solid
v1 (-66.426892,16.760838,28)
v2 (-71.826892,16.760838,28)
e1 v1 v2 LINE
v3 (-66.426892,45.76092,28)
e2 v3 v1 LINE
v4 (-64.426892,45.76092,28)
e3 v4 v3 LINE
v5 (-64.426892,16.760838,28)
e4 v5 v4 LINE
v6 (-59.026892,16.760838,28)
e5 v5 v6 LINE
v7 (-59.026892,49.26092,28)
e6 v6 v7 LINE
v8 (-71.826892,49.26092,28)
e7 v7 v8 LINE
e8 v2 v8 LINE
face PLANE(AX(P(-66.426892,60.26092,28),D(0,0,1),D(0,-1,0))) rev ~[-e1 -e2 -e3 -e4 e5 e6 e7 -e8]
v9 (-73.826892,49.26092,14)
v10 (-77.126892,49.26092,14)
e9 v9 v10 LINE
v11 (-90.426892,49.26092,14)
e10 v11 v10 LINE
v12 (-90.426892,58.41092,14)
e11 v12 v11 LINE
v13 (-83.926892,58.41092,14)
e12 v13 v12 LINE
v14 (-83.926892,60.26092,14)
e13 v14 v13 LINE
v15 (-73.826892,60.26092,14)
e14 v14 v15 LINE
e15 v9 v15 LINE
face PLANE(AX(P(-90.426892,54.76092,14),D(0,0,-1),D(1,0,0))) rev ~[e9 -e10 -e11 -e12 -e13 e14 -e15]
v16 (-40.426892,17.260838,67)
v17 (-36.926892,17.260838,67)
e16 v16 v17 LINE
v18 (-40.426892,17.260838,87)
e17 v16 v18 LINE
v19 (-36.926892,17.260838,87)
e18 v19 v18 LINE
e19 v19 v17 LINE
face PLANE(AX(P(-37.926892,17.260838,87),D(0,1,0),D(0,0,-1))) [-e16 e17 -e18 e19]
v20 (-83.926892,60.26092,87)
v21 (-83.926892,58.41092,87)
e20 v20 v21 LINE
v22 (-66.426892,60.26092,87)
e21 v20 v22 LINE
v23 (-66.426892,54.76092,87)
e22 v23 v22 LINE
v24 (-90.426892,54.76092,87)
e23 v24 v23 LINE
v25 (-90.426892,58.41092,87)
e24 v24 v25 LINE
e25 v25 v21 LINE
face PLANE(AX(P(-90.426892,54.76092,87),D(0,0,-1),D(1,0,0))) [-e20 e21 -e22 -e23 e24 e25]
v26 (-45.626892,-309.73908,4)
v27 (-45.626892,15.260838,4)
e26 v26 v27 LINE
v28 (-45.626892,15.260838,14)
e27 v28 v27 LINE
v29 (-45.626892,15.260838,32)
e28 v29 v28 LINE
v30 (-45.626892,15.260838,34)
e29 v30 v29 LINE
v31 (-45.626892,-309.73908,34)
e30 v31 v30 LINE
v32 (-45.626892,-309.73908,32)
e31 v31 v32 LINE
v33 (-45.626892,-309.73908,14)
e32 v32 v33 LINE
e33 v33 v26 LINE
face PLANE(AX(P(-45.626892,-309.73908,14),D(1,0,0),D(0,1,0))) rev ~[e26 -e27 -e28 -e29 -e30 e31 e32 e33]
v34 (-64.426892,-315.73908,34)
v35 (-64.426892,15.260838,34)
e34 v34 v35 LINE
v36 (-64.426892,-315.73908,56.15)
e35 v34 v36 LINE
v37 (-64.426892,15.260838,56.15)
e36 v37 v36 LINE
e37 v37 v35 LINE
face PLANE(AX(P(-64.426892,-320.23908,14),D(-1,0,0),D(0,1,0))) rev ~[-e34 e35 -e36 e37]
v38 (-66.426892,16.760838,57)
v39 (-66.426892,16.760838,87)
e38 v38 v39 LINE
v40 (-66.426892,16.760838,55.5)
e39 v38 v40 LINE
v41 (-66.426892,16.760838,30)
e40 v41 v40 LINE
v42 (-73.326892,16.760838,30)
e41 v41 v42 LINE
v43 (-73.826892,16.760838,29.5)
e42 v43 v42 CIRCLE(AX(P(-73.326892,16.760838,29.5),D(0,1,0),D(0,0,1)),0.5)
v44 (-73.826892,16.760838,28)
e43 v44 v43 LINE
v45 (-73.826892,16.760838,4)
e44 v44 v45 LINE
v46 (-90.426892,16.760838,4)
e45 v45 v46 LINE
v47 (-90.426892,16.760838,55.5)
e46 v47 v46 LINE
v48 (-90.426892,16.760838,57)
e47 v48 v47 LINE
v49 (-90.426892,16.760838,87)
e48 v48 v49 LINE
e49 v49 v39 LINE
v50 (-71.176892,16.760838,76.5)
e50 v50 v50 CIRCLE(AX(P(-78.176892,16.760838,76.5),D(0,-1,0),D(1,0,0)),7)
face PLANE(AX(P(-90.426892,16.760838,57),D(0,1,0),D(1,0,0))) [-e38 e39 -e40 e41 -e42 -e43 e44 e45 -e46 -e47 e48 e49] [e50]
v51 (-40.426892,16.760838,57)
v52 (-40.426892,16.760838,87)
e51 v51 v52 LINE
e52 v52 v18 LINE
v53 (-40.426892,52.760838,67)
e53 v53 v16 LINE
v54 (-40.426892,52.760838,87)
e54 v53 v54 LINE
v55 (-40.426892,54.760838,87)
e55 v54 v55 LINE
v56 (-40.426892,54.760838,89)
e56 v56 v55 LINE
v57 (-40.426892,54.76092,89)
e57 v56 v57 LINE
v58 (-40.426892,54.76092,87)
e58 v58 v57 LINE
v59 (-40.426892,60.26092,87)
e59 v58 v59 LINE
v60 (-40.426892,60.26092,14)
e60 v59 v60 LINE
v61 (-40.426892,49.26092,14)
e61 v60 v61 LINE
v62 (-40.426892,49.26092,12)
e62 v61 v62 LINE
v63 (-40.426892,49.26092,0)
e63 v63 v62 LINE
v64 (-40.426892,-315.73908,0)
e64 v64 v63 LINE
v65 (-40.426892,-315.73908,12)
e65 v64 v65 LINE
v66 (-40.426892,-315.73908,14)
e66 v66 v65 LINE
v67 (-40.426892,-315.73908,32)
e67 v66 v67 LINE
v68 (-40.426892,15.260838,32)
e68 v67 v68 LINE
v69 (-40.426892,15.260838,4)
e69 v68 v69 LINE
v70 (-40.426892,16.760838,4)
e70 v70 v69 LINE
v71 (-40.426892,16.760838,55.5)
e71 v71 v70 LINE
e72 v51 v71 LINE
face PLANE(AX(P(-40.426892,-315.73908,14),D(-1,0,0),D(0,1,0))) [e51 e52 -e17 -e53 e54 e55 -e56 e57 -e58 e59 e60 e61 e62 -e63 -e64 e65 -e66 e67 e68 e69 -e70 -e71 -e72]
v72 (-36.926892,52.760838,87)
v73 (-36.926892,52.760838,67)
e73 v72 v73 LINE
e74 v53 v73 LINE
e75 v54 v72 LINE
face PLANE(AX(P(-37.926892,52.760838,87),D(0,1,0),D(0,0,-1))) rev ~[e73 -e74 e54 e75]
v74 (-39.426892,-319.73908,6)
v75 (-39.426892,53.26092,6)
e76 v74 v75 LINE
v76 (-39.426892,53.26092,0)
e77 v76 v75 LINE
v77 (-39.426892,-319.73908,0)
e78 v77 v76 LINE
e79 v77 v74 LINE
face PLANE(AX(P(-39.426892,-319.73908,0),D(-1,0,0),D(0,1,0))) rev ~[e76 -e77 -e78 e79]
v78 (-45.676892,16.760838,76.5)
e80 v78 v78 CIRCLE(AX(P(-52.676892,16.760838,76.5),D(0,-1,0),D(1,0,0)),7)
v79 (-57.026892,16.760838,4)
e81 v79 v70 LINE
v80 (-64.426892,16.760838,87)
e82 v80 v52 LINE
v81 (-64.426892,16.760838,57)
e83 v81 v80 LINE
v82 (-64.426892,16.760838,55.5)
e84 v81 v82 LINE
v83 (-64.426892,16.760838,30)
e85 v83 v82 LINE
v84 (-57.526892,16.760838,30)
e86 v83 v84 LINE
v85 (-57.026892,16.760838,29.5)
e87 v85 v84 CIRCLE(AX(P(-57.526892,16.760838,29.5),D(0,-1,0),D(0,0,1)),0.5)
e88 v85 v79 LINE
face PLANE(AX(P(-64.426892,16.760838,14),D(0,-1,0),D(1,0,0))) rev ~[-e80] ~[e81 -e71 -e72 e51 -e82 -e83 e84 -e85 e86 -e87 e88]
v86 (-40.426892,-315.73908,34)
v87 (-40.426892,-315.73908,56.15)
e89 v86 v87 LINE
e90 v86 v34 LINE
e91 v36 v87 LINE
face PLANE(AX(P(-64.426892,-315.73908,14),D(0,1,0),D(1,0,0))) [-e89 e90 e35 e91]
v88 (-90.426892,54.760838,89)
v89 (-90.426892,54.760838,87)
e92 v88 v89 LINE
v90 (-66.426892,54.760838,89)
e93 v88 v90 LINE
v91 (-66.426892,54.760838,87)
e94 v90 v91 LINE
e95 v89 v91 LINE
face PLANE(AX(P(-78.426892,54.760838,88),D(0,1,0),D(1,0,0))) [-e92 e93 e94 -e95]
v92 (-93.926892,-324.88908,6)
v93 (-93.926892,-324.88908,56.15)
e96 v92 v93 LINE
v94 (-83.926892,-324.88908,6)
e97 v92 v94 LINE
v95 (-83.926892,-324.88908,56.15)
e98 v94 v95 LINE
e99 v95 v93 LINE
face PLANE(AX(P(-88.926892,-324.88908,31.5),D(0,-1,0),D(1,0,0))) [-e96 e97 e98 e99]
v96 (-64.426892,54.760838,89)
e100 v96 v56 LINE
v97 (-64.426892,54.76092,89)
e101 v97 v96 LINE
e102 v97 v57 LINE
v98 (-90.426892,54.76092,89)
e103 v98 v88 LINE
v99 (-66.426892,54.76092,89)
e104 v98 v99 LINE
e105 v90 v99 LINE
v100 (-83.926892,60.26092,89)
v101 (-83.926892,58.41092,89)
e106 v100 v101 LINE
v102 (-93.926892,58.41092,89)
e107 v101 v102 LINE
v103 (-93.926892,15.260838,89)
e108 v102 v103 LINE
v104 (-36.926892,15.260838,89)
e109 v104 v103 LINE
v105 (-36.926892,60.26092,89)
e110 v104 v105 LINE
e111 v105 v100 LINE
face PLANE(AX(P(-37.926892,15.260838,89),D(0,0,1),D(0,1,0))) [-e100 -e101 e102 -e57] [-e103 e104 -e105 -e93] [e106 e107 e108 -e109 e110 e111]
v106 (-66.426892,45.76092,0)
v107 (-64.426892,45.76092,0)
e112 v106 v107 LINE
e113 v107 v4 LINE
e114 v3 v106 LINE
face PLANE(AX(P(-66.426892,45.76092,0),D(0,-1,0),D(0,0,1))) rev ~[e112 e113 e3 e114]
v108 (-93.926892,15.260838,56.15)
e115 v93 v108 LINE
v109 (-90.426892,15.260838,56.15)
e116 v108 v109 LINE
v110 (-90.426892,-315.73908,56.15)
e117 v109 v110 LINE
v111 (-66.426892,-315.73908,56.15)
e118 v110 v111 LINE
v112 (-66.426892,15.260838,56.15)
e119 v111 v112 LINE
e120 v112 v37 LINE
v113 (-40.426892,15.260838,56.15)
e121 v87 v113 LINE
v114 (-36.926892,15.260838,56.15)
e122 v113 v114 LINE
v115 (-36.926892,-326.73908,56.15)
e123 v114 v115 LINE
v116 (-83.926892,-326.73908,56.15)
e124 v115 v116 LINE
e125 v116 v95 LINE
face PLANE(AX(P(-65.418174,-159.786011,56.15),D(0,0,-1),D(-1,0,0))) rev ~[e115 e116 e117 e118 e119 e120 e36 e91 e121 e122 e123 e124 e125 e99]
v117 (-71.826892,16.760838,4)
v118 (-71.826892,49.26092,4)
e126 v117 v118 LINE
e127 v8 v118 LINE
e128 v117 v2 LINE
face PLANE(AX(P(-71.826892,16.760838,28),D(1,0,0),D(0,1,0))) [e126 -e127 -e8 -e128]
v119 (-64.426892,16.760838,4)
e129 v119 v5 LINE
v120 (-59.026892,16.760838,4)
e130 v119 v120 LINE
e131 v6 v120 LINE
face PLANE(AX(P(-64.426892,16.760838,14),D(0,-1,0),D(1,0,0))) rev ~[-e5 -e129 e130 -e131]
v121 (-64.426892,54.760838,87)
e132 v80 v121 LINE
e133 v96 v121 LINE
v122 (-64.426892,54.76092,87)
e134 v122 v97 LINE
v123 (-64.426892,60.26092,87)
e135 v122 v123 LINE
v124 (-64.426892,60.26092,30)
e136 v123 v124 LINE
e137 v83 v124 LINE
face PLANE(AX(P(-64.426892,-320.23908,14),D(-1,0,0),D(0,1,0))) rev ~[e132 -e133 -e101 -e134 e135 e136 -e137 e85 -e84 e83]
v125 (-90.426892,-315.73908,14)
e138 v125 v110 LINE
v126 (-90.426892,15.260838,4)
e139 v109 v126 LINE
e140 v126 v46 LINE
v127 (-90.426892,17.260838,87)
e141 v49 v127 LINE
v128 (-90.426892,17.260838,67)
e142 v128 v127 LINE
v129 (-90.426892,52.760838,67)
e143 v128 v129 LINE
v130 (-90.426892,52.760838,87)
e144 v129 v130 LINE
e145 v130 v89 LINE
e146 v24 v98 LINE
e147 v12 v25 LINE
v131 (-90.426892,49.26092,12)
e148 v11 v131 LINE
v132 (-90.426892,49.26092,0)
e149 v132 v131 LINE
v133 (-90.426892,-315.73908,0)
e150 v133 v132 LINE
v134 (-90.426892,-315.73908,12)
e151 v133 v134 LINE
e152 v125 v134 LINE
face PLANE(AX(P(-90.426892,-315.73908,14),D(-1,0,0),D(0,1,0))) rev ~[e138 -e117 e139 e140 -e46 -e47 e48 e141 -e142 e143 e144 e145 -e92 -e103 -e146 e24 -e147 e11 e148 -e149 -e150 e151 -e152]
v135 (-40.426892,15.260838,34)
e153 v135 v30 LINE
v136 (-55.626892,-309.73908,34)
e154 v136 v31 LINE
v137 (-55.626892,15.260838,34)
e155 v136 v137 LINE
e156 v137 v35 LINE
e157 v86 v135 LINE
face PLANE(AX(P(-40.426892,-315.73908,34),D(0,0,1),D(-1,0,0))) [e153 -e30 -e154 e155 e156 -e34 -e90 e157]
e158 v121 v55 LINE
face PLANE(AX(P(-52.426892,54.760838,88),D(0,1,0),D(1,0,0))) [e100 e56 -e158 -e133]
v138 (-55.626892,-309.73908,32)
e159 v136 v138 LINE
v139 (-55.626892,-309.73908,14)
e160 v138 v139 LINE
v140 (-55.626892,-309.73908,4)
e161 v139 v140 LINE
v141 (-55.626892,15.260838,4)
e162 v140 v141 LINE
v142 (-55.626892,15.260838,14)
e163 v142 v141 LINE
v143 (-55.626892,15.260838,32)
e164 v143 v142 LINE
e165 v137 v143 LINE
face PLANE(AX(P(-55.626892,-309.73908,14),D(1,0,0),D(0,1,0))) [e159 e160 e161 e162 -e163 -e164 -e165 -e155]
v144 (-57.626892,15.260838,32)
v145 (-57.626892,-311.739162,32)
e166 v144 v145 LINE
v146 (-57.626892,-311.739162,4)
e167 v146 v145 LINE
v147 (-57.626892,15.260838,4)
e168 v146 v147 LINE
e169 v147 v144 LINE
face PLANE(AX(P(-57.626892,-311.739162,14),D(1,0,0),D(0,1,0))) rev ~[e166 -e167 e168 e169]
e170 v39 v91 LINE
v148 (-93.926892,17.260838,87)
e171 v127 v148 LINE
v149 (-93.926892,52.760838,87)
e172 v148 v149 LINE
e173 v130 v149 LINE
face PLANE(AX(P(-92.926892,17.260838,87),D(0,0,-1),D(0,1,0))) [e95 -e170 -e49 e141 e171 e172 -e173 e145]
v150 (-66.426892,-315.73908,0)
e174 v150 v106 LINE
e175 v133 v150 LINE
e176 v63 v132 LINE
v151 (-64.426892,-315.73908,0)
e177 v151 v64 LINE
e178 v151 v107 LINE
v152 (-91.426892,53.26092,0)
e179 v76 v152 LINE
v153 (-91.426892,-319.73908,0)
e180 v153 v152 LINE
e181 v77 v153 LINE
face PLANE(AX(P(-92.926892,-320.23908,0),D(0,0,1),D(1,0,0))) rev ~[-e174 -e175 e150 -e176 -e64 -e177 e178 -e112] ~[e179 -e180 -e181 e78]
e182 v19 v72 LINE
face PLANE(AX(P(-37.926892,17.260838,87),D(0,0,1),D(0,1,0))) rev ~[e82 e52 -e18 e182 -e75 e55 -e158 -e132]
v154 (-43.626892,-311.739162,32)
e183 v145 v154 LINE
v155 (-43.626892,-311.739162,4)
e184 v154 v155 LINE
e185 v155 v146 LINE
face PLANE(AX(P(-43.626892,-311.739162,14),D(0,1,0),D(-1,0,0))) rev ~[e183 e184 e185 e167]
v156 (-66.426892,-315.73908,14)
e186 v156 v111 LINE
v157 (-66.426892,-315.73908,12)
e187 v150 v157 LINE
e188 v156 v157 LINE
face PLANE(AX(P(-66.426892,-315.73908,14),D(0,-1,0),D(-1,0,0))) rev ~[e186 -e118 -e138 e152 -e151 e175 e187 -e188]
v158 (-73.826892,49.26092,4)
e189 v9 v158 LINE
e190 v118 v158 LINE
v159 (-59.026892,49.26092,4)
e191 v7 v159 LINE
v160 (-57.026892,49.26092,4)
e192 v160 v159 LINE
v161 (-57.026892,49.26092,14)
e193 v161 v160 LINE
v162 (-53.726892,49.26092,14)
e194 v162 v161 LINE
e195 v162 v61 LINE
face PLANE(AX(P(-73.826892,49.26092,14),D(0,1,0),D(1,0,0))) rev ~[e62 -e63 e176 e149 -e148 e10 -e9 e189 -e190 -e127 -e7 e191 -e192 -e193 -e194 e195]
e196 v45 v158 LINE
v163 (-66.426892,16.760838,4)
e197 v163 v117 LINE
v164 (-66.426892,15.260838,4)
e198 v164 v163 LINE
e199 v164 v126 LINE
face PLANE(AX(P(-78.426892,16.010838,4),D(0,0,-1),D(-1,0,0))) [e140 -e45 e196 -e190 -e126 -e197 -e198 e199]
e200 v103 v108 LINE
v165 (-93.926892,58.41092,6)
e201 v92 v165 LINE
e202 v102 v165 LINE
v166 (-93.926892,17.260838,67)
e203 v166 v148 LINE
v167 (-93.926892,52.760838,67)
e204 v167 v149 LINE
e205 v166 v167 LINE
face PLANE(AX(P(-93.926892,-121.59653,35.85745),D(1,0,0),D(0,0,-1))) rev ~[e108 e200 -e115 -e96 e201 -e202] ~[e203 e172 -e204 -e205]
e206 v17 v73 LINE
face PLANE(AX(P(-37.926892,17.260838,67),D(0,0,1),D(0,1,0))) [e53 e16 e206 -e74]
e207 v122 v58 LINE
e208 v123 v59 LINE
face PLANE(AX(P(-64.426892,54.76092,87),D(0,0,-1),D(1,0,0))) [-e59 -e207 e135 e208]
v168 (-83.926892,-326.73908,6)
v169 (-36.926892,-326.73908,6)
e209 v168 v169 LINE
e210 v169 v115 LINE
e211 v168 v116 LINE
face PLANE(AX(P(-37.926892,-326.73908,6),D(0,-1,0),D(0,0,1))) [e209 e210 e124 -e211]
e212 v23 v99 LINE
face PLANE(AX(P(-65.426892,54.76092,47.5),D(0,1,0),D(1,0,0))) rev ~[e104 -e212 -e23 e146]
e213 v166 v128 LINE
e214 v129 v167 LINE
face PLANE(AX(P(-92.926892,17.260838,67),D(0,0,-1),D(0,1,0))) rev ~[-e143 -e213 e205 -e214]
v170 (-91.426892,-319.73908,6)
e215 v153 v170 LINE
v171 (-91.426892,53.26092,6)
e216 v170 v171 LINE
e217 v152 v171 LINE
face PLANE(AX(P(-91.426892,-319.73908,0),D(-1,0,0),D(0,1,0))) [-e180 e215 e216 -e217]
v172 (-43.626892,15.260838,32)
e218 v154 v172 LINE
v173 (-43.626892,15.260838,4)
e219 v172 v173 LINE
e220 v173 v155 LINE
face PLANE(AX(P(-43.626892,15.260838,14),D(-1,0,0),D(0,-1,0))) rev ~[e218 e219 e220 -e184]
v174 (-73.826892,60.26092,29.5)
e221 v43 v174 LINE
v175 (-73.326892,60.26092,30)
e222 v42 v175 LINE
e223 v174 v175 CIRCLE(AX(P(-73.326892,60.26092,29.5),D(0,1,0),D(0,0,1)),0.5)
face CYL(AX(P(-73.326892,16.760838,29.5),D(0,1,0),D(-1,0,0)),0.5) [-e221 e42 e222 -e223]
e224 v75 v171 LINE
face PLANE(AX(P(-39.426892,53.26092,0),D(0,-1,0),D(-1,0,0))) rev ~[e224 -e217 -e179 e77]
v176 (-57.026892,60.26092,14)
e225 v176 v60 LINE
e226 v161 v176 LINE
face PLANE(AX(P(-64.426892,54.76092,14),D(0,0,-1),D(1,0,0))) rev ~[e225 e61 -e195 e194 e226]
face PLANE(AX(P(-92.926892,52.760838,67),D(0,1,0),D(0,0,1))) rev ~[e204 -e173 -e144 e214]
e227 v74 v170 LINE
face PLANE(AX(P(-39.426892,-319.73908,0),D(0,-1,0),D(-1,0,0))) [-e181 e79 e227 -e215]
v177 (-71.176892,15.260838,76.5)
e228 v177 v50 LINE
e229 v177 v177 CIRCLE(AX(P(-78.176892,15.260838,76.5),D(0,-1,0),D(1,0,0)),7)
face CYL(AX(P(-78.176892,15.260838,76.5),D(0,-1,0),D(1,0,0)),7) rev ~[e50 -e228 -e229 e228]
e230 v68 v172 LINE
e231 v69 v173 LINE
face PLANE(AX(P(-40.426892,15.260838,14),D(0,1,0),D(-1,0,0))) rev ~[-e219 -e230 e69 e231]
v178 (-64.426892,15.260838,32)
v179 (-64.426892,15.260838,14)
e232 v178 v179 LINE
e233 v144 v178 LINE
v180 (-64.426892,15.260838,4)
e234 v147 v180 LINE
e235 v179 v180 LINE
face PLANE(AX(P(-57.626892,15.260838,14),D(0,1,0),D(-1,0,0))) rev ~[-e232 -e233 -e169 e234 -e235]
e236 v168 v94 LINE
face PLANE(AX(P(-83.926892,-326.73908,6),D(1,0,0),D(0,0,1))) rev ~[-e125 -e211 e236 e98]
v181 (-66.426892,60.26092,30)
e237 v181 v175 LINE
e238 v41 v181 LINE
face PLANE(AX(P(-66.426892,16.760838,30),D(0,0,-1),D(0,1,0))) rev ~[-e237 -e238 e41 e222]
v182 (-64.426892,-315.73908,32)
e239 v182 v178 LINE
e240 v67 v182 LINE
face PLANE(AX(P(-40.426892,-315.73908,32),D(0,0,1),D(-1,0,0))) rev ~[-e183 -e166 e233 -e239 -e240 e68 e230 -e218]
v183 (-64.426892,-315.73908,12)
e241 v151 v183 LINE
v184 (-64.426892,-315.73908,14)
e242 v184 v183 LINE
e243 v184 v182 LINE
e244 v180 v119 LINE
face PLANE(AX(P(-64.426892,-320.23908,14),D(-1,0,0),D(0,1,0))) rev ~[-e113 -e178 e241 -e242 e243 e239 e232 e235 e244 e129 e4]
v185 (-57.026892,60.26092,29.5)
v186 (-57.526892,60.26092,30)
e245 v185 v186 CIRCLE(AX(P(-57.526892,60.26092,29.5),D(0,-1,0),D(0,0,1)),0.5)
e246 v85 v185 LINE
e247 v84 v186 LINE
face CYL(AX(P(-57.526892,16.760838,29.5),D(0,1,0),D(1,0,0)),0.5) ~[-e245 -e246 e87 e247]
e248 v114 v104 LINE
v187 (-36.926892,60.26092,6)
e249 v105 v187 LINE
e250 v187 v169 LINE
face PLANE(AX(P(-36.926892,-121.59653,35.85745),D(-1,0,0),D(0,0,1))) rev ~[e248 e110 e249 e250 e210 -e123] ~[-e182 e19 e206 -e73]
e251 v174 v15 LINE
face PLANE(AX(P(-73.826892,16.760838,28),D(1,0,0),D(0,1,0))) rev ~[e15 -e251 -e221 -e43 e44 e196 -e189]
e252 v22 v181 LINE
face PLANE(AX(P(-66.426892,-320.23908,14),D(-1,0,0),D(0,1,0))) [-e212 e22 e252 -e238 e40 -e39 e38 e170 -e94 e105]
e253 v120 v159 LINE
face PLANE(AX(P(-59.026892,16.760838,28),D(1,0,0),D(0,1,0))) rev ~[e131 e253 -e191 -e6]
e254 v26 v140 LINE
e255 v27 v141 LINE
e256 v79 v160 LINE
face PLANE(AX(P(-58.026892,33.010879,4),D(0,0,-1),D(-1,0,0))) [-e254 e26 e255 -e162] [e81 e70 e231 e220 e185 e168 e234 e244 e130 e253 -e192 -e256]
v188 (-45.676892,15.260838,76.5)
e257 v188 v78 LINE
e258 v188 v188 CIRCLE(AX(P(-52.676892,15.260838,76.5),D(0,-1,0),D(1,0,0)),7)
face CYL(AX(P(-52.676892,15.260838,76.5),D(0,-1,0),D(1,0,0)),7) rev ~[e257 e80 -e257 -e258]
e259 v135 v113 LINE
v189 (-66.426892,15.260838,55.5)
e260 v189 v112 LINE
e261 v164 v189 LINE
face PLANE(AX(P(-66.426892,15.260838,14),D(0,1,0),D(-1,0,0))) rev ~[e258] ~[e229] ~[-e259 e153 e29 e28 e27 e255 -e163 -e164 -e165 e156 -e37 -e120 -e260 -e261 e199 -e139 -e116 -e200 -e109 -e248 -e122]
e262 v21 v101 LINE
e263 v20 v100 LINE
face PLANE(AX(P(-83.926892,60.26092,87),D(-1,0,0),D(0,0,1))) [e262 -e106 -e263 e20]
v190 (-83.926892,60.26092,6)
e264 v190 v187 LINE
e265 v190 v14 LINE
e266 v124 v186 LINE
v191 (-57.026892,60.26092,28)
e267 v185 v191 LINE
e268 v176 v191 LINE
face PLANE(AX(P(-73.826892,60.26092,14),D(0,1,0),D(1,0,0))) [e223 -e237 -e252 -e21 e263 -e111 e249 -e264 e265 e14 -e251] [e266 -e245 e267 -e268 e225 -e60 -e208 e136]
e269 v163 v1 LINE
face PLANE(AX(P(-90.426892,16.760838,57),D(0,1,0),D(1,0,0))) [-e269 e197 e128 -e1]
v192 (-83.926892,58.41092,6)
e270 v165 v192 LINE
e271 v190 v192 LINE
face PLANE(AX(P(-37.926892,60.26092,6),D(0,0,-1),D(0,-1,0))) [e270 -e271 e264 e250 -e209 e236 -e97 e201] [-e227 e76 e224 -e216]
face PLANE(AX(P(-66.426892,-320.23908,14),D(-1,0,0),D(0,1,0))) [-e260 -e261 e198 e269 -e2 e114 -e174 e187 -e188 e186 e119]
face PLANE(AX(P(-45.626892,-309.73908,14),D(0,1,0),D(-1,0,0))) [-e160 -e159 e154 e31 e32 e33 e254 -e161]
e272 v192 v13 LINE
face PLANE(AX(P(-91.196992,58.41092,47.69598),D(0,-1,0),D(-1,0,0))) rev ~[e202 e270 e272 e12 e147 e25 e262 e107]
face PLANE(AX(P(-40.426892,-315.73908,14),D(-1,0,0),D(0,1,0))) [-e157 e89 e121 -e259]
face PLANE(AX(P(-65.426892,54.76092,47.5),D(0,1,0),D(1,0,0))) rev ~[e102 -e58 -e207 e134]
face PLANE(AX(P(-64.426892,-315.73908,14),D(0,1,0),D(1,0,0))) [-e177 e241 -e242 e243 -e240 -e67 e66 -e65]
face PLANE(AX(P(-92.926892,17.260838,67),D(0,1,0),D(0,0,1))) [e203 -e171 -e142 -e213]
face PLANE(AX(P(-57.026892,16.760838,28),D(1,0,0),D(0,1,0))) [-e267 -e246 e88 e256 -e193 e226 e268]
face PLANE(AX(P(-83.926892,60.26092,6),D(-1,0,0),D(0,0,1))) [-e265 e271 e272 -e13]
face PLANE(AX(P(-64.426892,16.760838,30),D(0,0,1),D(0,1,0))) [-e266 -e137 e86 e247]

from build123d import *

# Parameters (mm, degrees)
SZKIC1_W                     = 53
SZKIC1_H                     = 374
SZKIC1_W_2                   = 24
SZKIC1_H_2                   = 365
DODANIE_WYCI_GNI_CIE2_DEPTH  = 12
SZKIC2_W                     = 12
SZKIC2_H                     = 3.5
WYTNIJ_WYCI_GNI_CIE1_DEPTH   = 2
SZKIC3_W                     = 53
SZKIC3_H                     = 374
DODANIE_WYCI_GNI_CIE3_DEPTH  = 2
SZKIC4_W                     = 13.3
SZKIC4_H                     = 30.500081729
SZKIC4_W_2                   = 9.4
SZKIC4_H_2                   = 64.96
WYTNIJ_WYCI_GNI_CIE2_DEPTH   = 2
SZKIC5_W                     = 2
SZKIC5_H                     = 374
DODANIE_WYCI_GNI_CIE4_DEPTH  = 43
DODANIE_WYCI_GNI_CIE5_DEPTH  = 41.5
SZKIC7_W                     = 25.5
SZKIC7_H                     = 38.500081729
DODANIE_WYCI_GNI_CIE6_DEPTH  = 1.5
DODANIE_WYCI_GNI_CIE7_DEPTH  = 43
DODANIE_WYCI_GNI_CIE8_DEPTH  = 43
SZKIC15_W                    = 57
SZKIC15_H                    = 374
DODANIE_WYCI_GNI_CIE10_DEPTH = 1
SZKIC16_W                    = 57
SZKIC16_H                    = 374
DODANIE_WYCI_GNI_CIE11_DEPTH = 1
SZKIC17_W                    = 55
SZKIC17_H                    = 57
SZKIC17_W_2                  = 24
SZKIC17_H_2                  = 41.5
DODANIE_WYCI_GNI_CIE12_DEPTH = 1
SZKIC18_W                    = 55
SZKIC18_H                    = 57
DODANIE_WYCI_GNI_CIE13_DEPTH = 1
SZKIC19_W                    = 55
SZKIC19_H                    = 376
SZKIC19_W_2                  = 52
SZKIC19_H_2                  = 373
WYTNIJ_WYCI_GNI_CIE7_DEPTH   = 6
SZKIC23_W                    = 24
SZKIC23_H                    = 38.000081729
WYTNIJ_WYCI_GNI_CIE11_DEPTH  = 10
DODANIE_WYCI_GNI_CIE14_DEPTH = 32
SZKIC25_W                    = 24
SZKIC25_H                    = 2
DODANIE_WYCI_GNI_CIE15_DEPTH = 38
SZKIC26_W                    = 24
SZKIC26_H                    = 2
DODANIE_WYCI_GNI_CIE16_DEPTH = 38
SZKIC27_R                    = 7
WYTNIJ_WYCI_GNI_CIE12_DEPTH  = 10
SZKIC28_W                    = 20
SZKIC28_H                    = 35.5
WYTNIJ_WYCI_GNI_CIE13_DEPTH  = 3
SZKIC29_W                    = 20
SZKIC29_H                    = 35.5
WYTNIJ_WYCI_GNI_CIE14_DEPTH  = 3
SZKIC33_W                    = 55
SZKIC33_H                    = 83
SZKIC33_W_2                  = 24
SZKIC33_H_2                  = 73
DODANIE_WYCI_GNI_CIE17_DEPTH = 5.5
SZKIC34_W                    = 55
SZKIC34_H                    = 51
DODANIE_WYCI_GNI_CIE18_DEPTH = 5.5
SZKIC35_W                    = 20
SZKIC35_H                    = 35.5
DODANIE_WYCI_GNI_CIE19_DEPTH = 1
SZKIC36_W                    = 20
SZKIC36_H                    = 35.5
DODANIE_WYCI_GNI_CIE20_DEPTH = 1
SZKIC37_W                    = 24
SZKIC37_H                    = 330.999918271
WYTNIJ_WYCI_GNI_CIE15_DEPTH  = 2
SZKIC38_W                    = 24
SZKIC38_H                    = 330.999918271
WYTNIJ_WYCI_GNI_CIE16_DEPTH  = 2
WYTNIJ_WYCI_GNI_CIE17_DEPTH  = 2
SZKIC40_W                    = 2
SZKIC40_H                    = 3.5
WYTNIJ_WYCI_GNI_CIE18_DEPTH  = 14
DODANIE_WYCI_GNI_CIE21_DEPTH = 331
SZKIC42_W                    = 10
SZKIC42_H                    = 324.999918271
WYTNIJ_WYCI_GNI_CIE19_DEPTH  = 2
DODANIE_WYCI_GNI_CIE22_DEPTH = 18
SZKIC44_W                    = 10
SZKIC44_H                    = 324.999918271
DODANIE_WYCI_GNI_CIE23_DEPTH = 10
SZKIC45_W                    = 2
SZKIC45_H                    = 43.500081729
DODANIE_WYCI_GNI_CIE24_DEPTH = 7.4
SZKIC46_W                    = 7.4
SZKIC46_H                    = 11
DODANIE_WYCI_GNI_CIE25_DEPTH = 14
SZKIC47_W                    = 2
SZKIC47_H                    = 32.500081729
DODANIE_WYCI_GNI_CIE26_DEPTH = 24
WYTNIJ_WYCI_GNI_CIE20_DEPTH  = 1.85
SZKIC49_W                    = 10
SZKIC49_H                    = 51
WYTNIJ_WYCI_GNI_CIE21_DEPTH  = 1.85
WYTNIJ_WYCI_GNI_CIE22_DEPTH  = 0.85
DODANIE_WYCI_GNI_CIE27_DEPTH = 7.4
SZKIC52_W                    = 7.4
SZKIC52_H                    = 11
DODANIE_WYCI_GNI_CIE28_DEPTH = 14
SZKIC53_W                    = 2
SZKIC53_H                    = 32.500081729
DODANIE_WYCI_GNI_CIE30_DEPTH = 24
SZKIC54_W                    = 24
SZKIC54_H                    = 1.5
DODANIE_WYCI_GNI_CIE31_DEPTH = 10
ZAOKR_GLENIE1_R              = 0.5
ZAOKR_GLENIE2_R              = 0.5


with BuildPart() as part:
    # Szkic1 → Dodanie-wyciągnięcie2 (new body)
    with BuildSketch(Plane.XY):
        with Locations((-65.426891924, -133.239080048)):
            Rectangle(SZKIC1_W, SZKIC1_H)
        with Locations((-78.426891924, -133.239080048)):
            Rectangle(SZKIC1_W_2, SZKIC1_H_2, mode=Mode.SUBTRACT)
        with Locations((-52.426891924, -133.239080048)):
            Rectangle(SZKIC1_W_2, SZKIC1_H_2, mode=Mode.SUBTRACT)
    extrude(amount=DODANIE_WYCI_GNI_CIE2_DEPTH)

    # Szkic2 → Wytnij-wyciągnięcie1 (cut)
    with BuildSketch(Plane.ZY.offset(66.426891924)):
        with Locations((6, 47.510919952)):
            Rectangle(SZKIC2_W, SZKIC2_H)
    extrude(amount=-WYTNIJ_WYCI_GNI_CIE1_DEPTH, mode=Mode.SUBTRACT)

    # Szkic3 → Dodanie-wyciągnięcie3 (add)
    with BuildSketch(Plane.XY.offset(12)):
        with Locations((-65.426891924, -133.239080048)):
            Rectangle(SZKIC3_W, SZKIC3_H)
    extrude(amount=DODANIE_WYCI_GNI_CIE3_DEPTH)

    # Szkic4 → Wytnij-wyciągnięcie2 (cut)
    with BuildSketch(Plane.XY.offset(14)):
        Polygon((-46.926891924, -11.039080048), (-56.326891924, -11.039080048), (-56.326891924, -35.399080048), (-56.326891924, -40.479080048), (-46.926891924, -40.479080048), (-46.926891924, -35.399080048), align=None)
        with Locations((-47.076891924, 34.010879088)):
            Rectangle(SZKIC4_W, SZKIC4_H)
        with Locations((-83.776891924, 34.010879088)):
            Rectangle(SZKIC4_W, SZKIC4_H)
        Polygon((-74.526891924, -35.399080048), (-74.526891924, -40.479080048), (-83.926891924, -40.479080048), (-83.926891924, -35.399080048), (-83.926891924, -11.039080048), (-74.526891924, -11.039080048), align=None)
        with Locations((-51.626891924, -133.719080048)):
            Rectangle(SZKIC4_W_2, SZKIC4_H_2)
        with Locations((-79.226891924, -133.719080048)):
            Rectangle(SZKIC4_W_2, SZKIC4_H_2)
    extrude(amount=-WYTNIJ_WYCI_GNI_CIE2_DEPTH, mode=Mode.SUBTRACT)

    # Szkic5 → Dodanie-wyciągnięcie4 (add)
    with BuildSketch(Plane.XY.offset(14)):
        with Locations((-65.426891924, -133.239080048)):
            Rectangle(SZKIC5_W, SZKIC5_H)
    extrude(amount=DODANIE_WYCI_GNI_CIE4_DEPTH)

    # Szkic6 → Dodanie-wyciągnięcie5 (add)
    with BuildSketch(Plane.XY.offset(14)):
        Polygon((-64.426891924, 16.760838223), (-40.426891924, 16.760838223), (-40.426891924, 53.760919952), (-38.926891924, 53.760919952), (-38.926891924, 15.260838223), (-64.426891924, 15.260838223), align=None)
        Polygon((-90.426891924, 53.760919952), (-91.926891924, 53.760919952), (-91.926891924, 15.260838223), (-66.426891924, 15.260838223), (-66.426891924, 16.760838223), (-90.426891924, 16.760838223), align=None)
    extrude(amount=DODANIE_WYCI_GNI_CIE5_DEPTH)

    # Szkic7 → Dodanie-wyciągnięcie6 (add)
    with BuildSketch(Plane.XY.offset(55.5)):
        with Locations((-51.676891924, 34.510879088)):
            Rectangle(SZKIC7_W, SZKIC7_H)
        with Locations((-79.176891924, 34.510879088)):
            Rectangle(SZKIC7_W, SZKIC7_H)
    extrude(amount=DODANIE_WYCI_GNI_CIE6_DEPTH)

    # Szkic10 → Dodanie-wyciągnięcie7 (add)
    with BuildSketch(Plane.XY.offset(14)):
        Polygon((-91.926891924, 15.260838223), (-91.926891924, -320.239080048), (-66.426891924, -320.239080048), (-66.426891924, -315.739080048), (-90.426891924, -315.739080048), (-90.426891924, 15.260838223), align=None)
    extrude(amount=DODANIE_WYCI_GNI_CIE7_DEPTH)

    # Szkic11 → Dodanie-wyciągnięcie8 (add)
    with BuildSketch(Plane.XY.offset(14)):
        Polygon((-38.926891924, 15.260838223), (-38.926891924, -320.239080048), (-64.426891924, -320.239080048), (-64.426891924, -315.739080048), (-40.426891924, -315.739080048), (-40.426891924, 15.260838223), align=None)
    extrude(amount=DODANIE_WYCI_GNI_CIE8_DEPTH)

    # Szkic15 → Dodanie-wyciągnięcie10 (add)
    with BuildSketch(Plane.ZY.offset(91.926891924)):
        with Locations((28.5, -133.239080048)):
            Rectangle(SZKIC15_W, SZKIC15_H)
    extrude(amount=DODANIE_WYCI_GNI_CIE10_DEPTH)

    # Szkic16 → Dodanie-wyciągnięcie11 (add)
    with BuildSketch(Plane(origin=(-38.926891924, 0, 0), x_dir=(0, 0, -1), z_dir=(1, 0, 0))):
        with Locations((-28.5, -133.239080048)):
            Rectangle(SZKIC16_W, SZKIC16_H)
    extrude(amount=DODANIE_WYCI_GNI_CIE11_DEPTH)

    # Szkic17 → Dodanie-wyciągnięcie12 (add)
    with BuildSketch(Plane(origin=(0, 53.760919952, 0), x_dir=(1, 0, 0), z_dir=(0, 1, 0))):
        with Locations((-65.426891924, -28.5)):
            Rectangle(SZKIC17_W, SZKIC17_H)
        with Locations((-52.426891924, -34.75)):
            Rectangle(SZKIC17_W_2, SZKIC17_H_2, mode=Mode.SUBTRACT)
        with Locations((-78.426891924, -34.75)):
            Rectangle(SZKIC17_W_2, SZKIC17_H_2, mode=Mode.SUBTRACT)
    extrude(amount=DODANIE_WYCI_GNI_CIE12_DEPTH)

    # Szkic18 → Dodanie-wyciągnięcie13 (add)
    with BuildSketch(Plane.XZ.offset(320.239080048)):
        with Locations((-65.426891924, 28.5)):
            Rectangle(SZKIC18_W, SZKIC18_H)
    extrude(amount=DODANIE_WYCI_GNI_CIE13_DEPTH)

    # Szkic19 → Wytnij-wyciągnięcie7 (cut)
    with BuildSketch(Plane(origin=(0, 0, 0), x_dir=(-1, 0, 0), z_dir=(0, 0, -1))):
        with Locations((65.426891924, -133.239080048)):
            Rectangle(SZKIC19_W, SZKIC19_H)
        with Locations((65.426891924, -133.239080048)):
            Rectangle(SZKIC19_W_2, SZKIC19_H_2, mode=Mode.SUBTRACT)
    extrude(amount=-WYTNIJ_WYCI_GNI_CIE7_DEPTH, mode=Mode.SUBTRACT)

    # Szkic23 → Wytnij-wyciągnięcie11 (cut)
    with BuildSketch(Plane.XY.offset(57)):
        with Locations((-52.426891924, 35.760879088)):
            Rectangle(SZKIC23_W, SZKIC23_H)
        with Locations((-78.426891924, 35.760879088)):
            Rectangle(SZKIC23_W, SZKIC23_H)
    extrude(amount=-WYTNIJ_WYCI_GNI_CIE11_DEPTH, mode=Mode.SUBTRACT)

    # Szkic24 → Dodanie-wyciągnięcie14 (add)
    with BuildSketch(Plane.XY.offset(57)):
        Polygon((-40.426891924, 54.760919952), (-37.926891924, 54.760919952), (-37.926891924, 15.260838223), (-92.926891924, 15.260838223), (-92.926891924, 54.760919952), (-90.426891924, 54.760919952), (-90.426891924, 16.760838223), (-66.426891924, 16.760838223), (-66.426891924, 54.760919952), (-64.426891924, 54.760919952), (-64.426891924, 16.760838223), (-40.426891924, 16.760838223), align=None)
    extrude(amount=DODANIE_WYCI_GNI_CIE14_DEPTH)

    # Szkic25 → Dodanie-wyciągnięcie15 (add)
    with BuildSketch(Plane(origin=(0, 16.760838223, 0), x_dir=(1, 0, 0), z_dir=(0, 1, 0))):
        with Locations((-52.426891924, -88)):
            Rectangle(SZKIC25_W, SZKIC25_H)
    extrude(amount=DODANIE_WYCI_GNI_CIE15_DEPTH)

    # Szkic26 → Dodanie-wyciągnięcie16 (add)
    with BuildSketch(Plane(origin=(0, 16.760838223, 0), x_dir=(1, 0, 0), z_dir=(0, 1, 0))):
        with Locations((-78.426891924, -88)):
            Rectangle(SZKIC26_W, SZKIC26_H)
    extrude(amount=DODANIE_WYCI_GNI_CIE16_DEPTH)

    # Szkic27 → Wytnij-wyciągnięcie12 (cut)
    with BuildSketch(Plane.XZ.offset(-15.260838223)):
        with Locations((-78.176891924, 76.5)):
            Circle(SZKIC27_R)
        with Locations((-52.676891924, 76.5)):
            Circle(SZKIC27_R)
    extrude(amount=-WYTNIJ_WYCI_GNI_CIE12_DEPTH, mode=Mode.SUBTRACT)

    # Szkic28 → Wytnij-wyciągnięcie13 (cut)
    with BuildSketch(Plane(origin=(-37.926891924, 0, 0), x_dir=(0, 0, -1), z_dir=(1, 0, 0))):
        with Locations((-77, 35.010838223)):
            Rectangle(SZKIC28_W, SZKIC28_H)
    extrude(amount=-WYTNIJ_WYCI_GNI_CIE13_DEPTH, mode=Mode.SUBTRACT)

    # Szkic29 → Wytnij-wyciągnięcie14 (cut)
    with BuildSketch(Plane.ZY.offset(92.926891924)):
        with Locations((77, 35.010838223)):
            Rectangle(SZKIC29_W, SZKIC29_H)
    extrude(amount=-WYTNIJ_WYCI_GNI_CIE14_DEPTH, mode=Mode.SUBTRACT)

    # Szkic33 → Dodanie-wyciągnięcie17 (add)
    with BuildSketch(Plane(origin=(0, 54.760919952, 0), x_dir=(1, 0, 0), z_dir=(0, 1, 0))):
        with Locations((-65.426891924, -47.5)):
            Rectangle(SZKIC33_W, SZKIC33_H)
        with Locations((-52.426891924, -50.5)):
            Rectangle(SZKIC33_W_2, SZKIC33_H_2, mode=Mode.SUBTRACT)
        with Locations((-78.426891924, -50.5)):
            Rectangle(SZKIC33_W_2, SZKIC33_H_2, mode=Mode.SUBTRACT)
    extrude(amount=DODANIE_WYCI_GNI_CIE17_DEPTH)

    # Szkic34 → Dodanie-wyciągnięcie18 (add)
    with BuildSketch(Plane.XZ.offset(321.239080048)):
        with Locations((-65.426891924, 31.5)):
            Rectangle(SZKIC34_W, SZKIC34_H)
    extrude(amount=DODANIE_WYCI_GNI_CIE18_DEPTH)

    # Szkic35 → Dodanie-wyciągnięcie19 (add)
    with BuildSketch(Plane.ZY.offset(92.926891924)):
        Polygon((89, 60.260919952), (89, 15.260838223), (57, 15.260838223), (57, -326.739080048), (6, -326.739080048), (6, 60.260919952), align=None)
        with Locations((77, 35.010838223)):
            Rectangle(SZKIC35_W, SZKIC35_H, mode=Mode.SUBTRACT)
    extrude(amount=DODANIE_WYCI_GNI_CIE19_DEPTH)

    # Szkic36 → Dodanie-wyciągnięcie20 (add)
    with BuildSketch(Plane(origin=(-37.926891924, 0, 0), x_dir=(0, 0, -1), z_dir=(1, 0, 0))):
        Polygon((-57, -326.739080048), (-57, 15.260838223), (-89, 15.260838223), (-89, 60.260919952), (-6, 60.260919952), (-6, -326.739080048), align=None)
        with Locations((-77, 35.010838223)):
            Rectangle(SZKIC36_W, SZKIC36_H, mode=Mode.SUBTRACT)
    extrude(amount=DODANIE_WYCI_GNI_CIE20_DEPTH)

    # Szkic37 → Wytnij-wyciągnięcie15 (cut)
    with BuildSketch(Plane.XY.offset(14)):
        with Locations((-52.426891924, -150.239120912)):
            Rectangle(SZKIC37_W, SZKIC37_H)
    extrude(amount=-WYTNIJ_WYCI_GNI_CIE15_DEPTH, mode=Mode.SUBTRACT)

    # Szkic38 → Wytnij-wyciągnięcie16 (cut)
    with BuildSketch(Plane.XY.offset(14)):
        with Locations((-78.426891924, -150.239120912)):
            Rectangle(SZKIC38_W, SZKIC38_H)
    extrude(amount=-WYTNIJ_WYCI_GNI_CIE16_DEPTH, mode=Mode.SUBTRACT)

    # Szkic39 → Wytnij-wyciągnięcie17 (cut)
    with BuildSketch(Plane(origin=(0, 0, 12), x_dir=(-1, 0, 0), z_dir=(0, 0, -1))):
        Polygon((90.426891924, 15.260838223), (66.426891924, 15.260838223), (66.426891924, 45.760919952), (64.426891924, 45.760919952), (64.426891924, 15.260838223), (40.426891924, 15.260838223), (40.426891924, 49.260919952), (90.426891924, 49.260919952), align=None)
    extrude(amount=-WYTNIJ_WYCI_GNI_CIE17_DEPTH, mode=Mode.SUBTRACT)

    # Szkic40 → Wytnij-wyciągnięcie18 (cut)
    with BuildSketch(Plane(origin=(0, 0, 14), x_dir=(-1, 0, 0), z_dir=(0, 0, -1))):
        with Locations((65.426891924, 47.510919952)):
            Rectangle(SZKIC40_W, SZKIC40_H)
    extrude(amount=-WYTNIJ_WYCI_GNI_CIE18_DEPTH, mode=Mode.SUBTRACT)

    # Szkic41 → Dodanie-wyciągnięcie21 (add)
    with BuildSketch(Plane(origin=(0, -315.739080048, 0), x_dir=(1, 0, 0), z_dir=(0, 1, 0))):
        Polygon((-52.426891924, -32), (-40.426891924, -32), (-40.426891924, -34), (-64.426891924, -34), (-64.426891924, -32), align=None)
    extrude(amount=DODANIE_WYCI_GNI_CIE21_DEPTH)

    # Szkic42 → Wytnij-wyciągnięcie19 (cut)
    with BuildSketch(Plane.XY.offset(34)):
        with Locations((-50.626891924, -147.239120912)):
            Rectangle(SZKIC42_W, SZKIC42_H)
    extrude(amount=-WYTNIJ_WYCI_GNI_CIE19_DEPTH, mode=Mode.SUBTRACT)

    # Szkic43 → Dodanie-wyciągnięcie22 (add)
    with BuildSketch(Plane(origin=(0, 0, 32), x_dir=(-1, 0, 0), z_dir=(0, 0, -1))):
        Polygon((45.626891924, 15.260838223), (45.626891924, -309.739080048), (55.626891924, -309.739080048), (55.626891924, 15.260838223), (57.626891924, 15.260838223), (57.626891924, -311.739161777), (43.626891924, -311.739161777), (43.626891924, 15.260838223), align=None)
    extrude(amount=DODANIE_WYCI_GNI_CIE22_DEPTH)

    # Szkic44 → Dodanie-wyciągnięcie23 (add)
    with BuildSketch(Plane(origin=(0, 0, 14), x_dir=(-1, 0, 0), z_dir=(0, 0, -1))):
        Polygon((64.426891924, 16.760838223), (40.426891924, 16.760838223), (40.426891924, 15.260838223), (43.626891924, 15.260838223), (43.626891924, -311.739161777), (57.626891924, -311.739161777), (57.626891924, 15.260838223), (64.426891924, 15.260838223), align=None)
        with Locations((50.626891924, -147.239120912)):
            Rectangle(SZKIC44_W, SZKIC44_H, mode=Mode.SUBTRACT)
    extrude(amount=DODANIE_WYCI_GNI_CIE23_DEPTH)

    # Szkic45 → Dodanie-wyciągnięcie24 (add)
    with BuildSketch(Plane(origin=(-64.426891924, 0, 0), x_dir=(0, 0, -1), z_dir=(1, 0, 0))):
        with Locations((-29, 38.510879088)):
            Rectangle(SZKIC45_W, SZKIC45_H)
    extrude(amount=DODANIE_WYCI_GNI_CIE24_DEPTH)

    # Szkic46 → Dodanie-wyciągnięcie25 (add)
    with BuildSketch(Plane.XY.offset(14)):
        with Locations((-60.726891924, 54.760919952)):
            Rectangle(SZKIC46_W, SZKIC46_H)
    extrude(amount=DODANIE_WYCI_GNI_CIE25_DEPTH)

    # Szkic47 → Dodanie-wyciągnięcie26 (add)
    with BuildSketch(Plane(origin=(0, 0, 28), x_dir=(-1, 0, 0), z_dir=(0, 0, -1))):
        with Locations((58.026891924, 33.010879088)):
            Rectangle(SZKIC47_W, SZKIC47_H)
    extrude(amount=DODANIE_WYCI_GNI_CIE26_DEPTH)

    # Szkic48 → Wytnij-wyciągnięcie20 (cut)
    with BuildSketch(Plane(origin=(0, 60.260919952, 0), x_dir=(1, 0, 0), z_dir=(0, 1, 0))):
        Polygon((-93.926891924, -6), (-83.926891924, -6), (-83.926891924, -14), (-90.426891924, -14), (-90.426891924, -87), (-83.926891924, -87), (-83.926891924, -89), (-93.926891924, -89), align=None)
    extrude(amount=-WYTNIJ_WYCI_GNI_CIE20_DEPTH, mode=Mode.SUBTRACT)

    # Szkic49 → Wytnij-wyciągnięcie21 (cut)
    with BuildSketch(Plane.XZ.offset(326.739080048)):
        with Locations((-88.926891924, 31.5)):
            Rectangle(SZKIC49_W, SZKIC49_H)
    extrude(amount=-WYTNIJ_WYCI_GNI_CIE21_DEPTH, mode=Mode.SUBTRACT)

    # Szkic50 → Wytnij-wyciągnięcie22 (cut)
    with BuildSketch(Plane.XY.offset(57)):
        Polygon((-40.426891924, 15.260838223), (-36.926891924, 15.260838223), (-36.926891924, -326.739080048), (-83.926891924, -326.739080048), (-83.926891924, -324.889080048), (-93.926891924, -324.889080048), (-93.926891924, 15.260838223), (-90.426891924, 15.260838223), (-90.426891924, -315.739080048), (-66.426891924, -315.739080048), (-66.426891924, 15.260838223), (-64.426891924, 15.260838223), (-64.426891924, -315.739080048), (-40.426891924, -315.739080048), align=None)
    extrude(amount=-WYTNIJ_WYCI_GNI_CIE22_DEPTH, mode=Mode.SUBTRACT)

    # Szkic51 → Dodanie-wyciągnięcie27 (add)
    with BuildSketch(Plane.ZY.offset(66.426891924)):
        Polygon((28, 45.760919952), (28, 16.760838223), (30, 16.760838223), (30, 60.260919952), (28, 60.260919952), align=None)
    extrude(amount=DODANIE_WYCI_GNI_CIE27_DEPTH)

    # Szkic52 → Dodanie-wyciągnięcie28 (add)
    with BuildSketch(Plane.XY.offset(14)):
        with Locations((-70.126891924, 54.760919952)):
            Rectangle(SZKIC52_W, SZKIC52_H)
    extrude(amount=DODANIE_WYCI_GNI_CIE28_DEPTH)

    # Szkic53 → Dodanie-wyciągnięcie30 (add)
    with BuildSketch(Plane(origin=(0, 0, 28), x_dir=(-1, 0, 0), z_dir=(0, 0, -1))):
        with Locations((72.826891924, 33.010879088)):
            Rectangle(SZKIC53_W, SZKIC53_H)
    extrude(amount=DODANIE_WYCI_GNI_CIE30_DEPTH)

    # Szkic54 → Dodanie-wyciągnięcie31 (add)
    with BuildSketch(Plane(origin=(0, 0, 14), x_dir=(-1, 0, 0), z_dir=(0, 0, -1))):
        with Locations((78.426891924, 16.010838223)):
            Rectangle(SZKIC54_W, SZKIC54_H)
    extrude(amount=DODANIE_WYCI_GNI_CIE31_DEPTH)

    # Zaokrąglenie1
    zaokr_glenie1_edges = [part.edges().sort_by_distance(p)[0] for p in [
        (-73.826891924, 38.510879088, 30),
    ]]
    fillet(zaokr_glenie1_edges, radius=ZAOKR_GLENIE1_R)

    # Zaokrąglenie2
    zaokr_glenie2_edges = [part.edges().sort_by_distance(p)[0] for p in [
        (-57.026891924, 38.510879088, 30),
    ]]
    fillet(zaokr_glenie2_edges, radius=ZAOKR_GLENIE2_R)


solid = part.part
